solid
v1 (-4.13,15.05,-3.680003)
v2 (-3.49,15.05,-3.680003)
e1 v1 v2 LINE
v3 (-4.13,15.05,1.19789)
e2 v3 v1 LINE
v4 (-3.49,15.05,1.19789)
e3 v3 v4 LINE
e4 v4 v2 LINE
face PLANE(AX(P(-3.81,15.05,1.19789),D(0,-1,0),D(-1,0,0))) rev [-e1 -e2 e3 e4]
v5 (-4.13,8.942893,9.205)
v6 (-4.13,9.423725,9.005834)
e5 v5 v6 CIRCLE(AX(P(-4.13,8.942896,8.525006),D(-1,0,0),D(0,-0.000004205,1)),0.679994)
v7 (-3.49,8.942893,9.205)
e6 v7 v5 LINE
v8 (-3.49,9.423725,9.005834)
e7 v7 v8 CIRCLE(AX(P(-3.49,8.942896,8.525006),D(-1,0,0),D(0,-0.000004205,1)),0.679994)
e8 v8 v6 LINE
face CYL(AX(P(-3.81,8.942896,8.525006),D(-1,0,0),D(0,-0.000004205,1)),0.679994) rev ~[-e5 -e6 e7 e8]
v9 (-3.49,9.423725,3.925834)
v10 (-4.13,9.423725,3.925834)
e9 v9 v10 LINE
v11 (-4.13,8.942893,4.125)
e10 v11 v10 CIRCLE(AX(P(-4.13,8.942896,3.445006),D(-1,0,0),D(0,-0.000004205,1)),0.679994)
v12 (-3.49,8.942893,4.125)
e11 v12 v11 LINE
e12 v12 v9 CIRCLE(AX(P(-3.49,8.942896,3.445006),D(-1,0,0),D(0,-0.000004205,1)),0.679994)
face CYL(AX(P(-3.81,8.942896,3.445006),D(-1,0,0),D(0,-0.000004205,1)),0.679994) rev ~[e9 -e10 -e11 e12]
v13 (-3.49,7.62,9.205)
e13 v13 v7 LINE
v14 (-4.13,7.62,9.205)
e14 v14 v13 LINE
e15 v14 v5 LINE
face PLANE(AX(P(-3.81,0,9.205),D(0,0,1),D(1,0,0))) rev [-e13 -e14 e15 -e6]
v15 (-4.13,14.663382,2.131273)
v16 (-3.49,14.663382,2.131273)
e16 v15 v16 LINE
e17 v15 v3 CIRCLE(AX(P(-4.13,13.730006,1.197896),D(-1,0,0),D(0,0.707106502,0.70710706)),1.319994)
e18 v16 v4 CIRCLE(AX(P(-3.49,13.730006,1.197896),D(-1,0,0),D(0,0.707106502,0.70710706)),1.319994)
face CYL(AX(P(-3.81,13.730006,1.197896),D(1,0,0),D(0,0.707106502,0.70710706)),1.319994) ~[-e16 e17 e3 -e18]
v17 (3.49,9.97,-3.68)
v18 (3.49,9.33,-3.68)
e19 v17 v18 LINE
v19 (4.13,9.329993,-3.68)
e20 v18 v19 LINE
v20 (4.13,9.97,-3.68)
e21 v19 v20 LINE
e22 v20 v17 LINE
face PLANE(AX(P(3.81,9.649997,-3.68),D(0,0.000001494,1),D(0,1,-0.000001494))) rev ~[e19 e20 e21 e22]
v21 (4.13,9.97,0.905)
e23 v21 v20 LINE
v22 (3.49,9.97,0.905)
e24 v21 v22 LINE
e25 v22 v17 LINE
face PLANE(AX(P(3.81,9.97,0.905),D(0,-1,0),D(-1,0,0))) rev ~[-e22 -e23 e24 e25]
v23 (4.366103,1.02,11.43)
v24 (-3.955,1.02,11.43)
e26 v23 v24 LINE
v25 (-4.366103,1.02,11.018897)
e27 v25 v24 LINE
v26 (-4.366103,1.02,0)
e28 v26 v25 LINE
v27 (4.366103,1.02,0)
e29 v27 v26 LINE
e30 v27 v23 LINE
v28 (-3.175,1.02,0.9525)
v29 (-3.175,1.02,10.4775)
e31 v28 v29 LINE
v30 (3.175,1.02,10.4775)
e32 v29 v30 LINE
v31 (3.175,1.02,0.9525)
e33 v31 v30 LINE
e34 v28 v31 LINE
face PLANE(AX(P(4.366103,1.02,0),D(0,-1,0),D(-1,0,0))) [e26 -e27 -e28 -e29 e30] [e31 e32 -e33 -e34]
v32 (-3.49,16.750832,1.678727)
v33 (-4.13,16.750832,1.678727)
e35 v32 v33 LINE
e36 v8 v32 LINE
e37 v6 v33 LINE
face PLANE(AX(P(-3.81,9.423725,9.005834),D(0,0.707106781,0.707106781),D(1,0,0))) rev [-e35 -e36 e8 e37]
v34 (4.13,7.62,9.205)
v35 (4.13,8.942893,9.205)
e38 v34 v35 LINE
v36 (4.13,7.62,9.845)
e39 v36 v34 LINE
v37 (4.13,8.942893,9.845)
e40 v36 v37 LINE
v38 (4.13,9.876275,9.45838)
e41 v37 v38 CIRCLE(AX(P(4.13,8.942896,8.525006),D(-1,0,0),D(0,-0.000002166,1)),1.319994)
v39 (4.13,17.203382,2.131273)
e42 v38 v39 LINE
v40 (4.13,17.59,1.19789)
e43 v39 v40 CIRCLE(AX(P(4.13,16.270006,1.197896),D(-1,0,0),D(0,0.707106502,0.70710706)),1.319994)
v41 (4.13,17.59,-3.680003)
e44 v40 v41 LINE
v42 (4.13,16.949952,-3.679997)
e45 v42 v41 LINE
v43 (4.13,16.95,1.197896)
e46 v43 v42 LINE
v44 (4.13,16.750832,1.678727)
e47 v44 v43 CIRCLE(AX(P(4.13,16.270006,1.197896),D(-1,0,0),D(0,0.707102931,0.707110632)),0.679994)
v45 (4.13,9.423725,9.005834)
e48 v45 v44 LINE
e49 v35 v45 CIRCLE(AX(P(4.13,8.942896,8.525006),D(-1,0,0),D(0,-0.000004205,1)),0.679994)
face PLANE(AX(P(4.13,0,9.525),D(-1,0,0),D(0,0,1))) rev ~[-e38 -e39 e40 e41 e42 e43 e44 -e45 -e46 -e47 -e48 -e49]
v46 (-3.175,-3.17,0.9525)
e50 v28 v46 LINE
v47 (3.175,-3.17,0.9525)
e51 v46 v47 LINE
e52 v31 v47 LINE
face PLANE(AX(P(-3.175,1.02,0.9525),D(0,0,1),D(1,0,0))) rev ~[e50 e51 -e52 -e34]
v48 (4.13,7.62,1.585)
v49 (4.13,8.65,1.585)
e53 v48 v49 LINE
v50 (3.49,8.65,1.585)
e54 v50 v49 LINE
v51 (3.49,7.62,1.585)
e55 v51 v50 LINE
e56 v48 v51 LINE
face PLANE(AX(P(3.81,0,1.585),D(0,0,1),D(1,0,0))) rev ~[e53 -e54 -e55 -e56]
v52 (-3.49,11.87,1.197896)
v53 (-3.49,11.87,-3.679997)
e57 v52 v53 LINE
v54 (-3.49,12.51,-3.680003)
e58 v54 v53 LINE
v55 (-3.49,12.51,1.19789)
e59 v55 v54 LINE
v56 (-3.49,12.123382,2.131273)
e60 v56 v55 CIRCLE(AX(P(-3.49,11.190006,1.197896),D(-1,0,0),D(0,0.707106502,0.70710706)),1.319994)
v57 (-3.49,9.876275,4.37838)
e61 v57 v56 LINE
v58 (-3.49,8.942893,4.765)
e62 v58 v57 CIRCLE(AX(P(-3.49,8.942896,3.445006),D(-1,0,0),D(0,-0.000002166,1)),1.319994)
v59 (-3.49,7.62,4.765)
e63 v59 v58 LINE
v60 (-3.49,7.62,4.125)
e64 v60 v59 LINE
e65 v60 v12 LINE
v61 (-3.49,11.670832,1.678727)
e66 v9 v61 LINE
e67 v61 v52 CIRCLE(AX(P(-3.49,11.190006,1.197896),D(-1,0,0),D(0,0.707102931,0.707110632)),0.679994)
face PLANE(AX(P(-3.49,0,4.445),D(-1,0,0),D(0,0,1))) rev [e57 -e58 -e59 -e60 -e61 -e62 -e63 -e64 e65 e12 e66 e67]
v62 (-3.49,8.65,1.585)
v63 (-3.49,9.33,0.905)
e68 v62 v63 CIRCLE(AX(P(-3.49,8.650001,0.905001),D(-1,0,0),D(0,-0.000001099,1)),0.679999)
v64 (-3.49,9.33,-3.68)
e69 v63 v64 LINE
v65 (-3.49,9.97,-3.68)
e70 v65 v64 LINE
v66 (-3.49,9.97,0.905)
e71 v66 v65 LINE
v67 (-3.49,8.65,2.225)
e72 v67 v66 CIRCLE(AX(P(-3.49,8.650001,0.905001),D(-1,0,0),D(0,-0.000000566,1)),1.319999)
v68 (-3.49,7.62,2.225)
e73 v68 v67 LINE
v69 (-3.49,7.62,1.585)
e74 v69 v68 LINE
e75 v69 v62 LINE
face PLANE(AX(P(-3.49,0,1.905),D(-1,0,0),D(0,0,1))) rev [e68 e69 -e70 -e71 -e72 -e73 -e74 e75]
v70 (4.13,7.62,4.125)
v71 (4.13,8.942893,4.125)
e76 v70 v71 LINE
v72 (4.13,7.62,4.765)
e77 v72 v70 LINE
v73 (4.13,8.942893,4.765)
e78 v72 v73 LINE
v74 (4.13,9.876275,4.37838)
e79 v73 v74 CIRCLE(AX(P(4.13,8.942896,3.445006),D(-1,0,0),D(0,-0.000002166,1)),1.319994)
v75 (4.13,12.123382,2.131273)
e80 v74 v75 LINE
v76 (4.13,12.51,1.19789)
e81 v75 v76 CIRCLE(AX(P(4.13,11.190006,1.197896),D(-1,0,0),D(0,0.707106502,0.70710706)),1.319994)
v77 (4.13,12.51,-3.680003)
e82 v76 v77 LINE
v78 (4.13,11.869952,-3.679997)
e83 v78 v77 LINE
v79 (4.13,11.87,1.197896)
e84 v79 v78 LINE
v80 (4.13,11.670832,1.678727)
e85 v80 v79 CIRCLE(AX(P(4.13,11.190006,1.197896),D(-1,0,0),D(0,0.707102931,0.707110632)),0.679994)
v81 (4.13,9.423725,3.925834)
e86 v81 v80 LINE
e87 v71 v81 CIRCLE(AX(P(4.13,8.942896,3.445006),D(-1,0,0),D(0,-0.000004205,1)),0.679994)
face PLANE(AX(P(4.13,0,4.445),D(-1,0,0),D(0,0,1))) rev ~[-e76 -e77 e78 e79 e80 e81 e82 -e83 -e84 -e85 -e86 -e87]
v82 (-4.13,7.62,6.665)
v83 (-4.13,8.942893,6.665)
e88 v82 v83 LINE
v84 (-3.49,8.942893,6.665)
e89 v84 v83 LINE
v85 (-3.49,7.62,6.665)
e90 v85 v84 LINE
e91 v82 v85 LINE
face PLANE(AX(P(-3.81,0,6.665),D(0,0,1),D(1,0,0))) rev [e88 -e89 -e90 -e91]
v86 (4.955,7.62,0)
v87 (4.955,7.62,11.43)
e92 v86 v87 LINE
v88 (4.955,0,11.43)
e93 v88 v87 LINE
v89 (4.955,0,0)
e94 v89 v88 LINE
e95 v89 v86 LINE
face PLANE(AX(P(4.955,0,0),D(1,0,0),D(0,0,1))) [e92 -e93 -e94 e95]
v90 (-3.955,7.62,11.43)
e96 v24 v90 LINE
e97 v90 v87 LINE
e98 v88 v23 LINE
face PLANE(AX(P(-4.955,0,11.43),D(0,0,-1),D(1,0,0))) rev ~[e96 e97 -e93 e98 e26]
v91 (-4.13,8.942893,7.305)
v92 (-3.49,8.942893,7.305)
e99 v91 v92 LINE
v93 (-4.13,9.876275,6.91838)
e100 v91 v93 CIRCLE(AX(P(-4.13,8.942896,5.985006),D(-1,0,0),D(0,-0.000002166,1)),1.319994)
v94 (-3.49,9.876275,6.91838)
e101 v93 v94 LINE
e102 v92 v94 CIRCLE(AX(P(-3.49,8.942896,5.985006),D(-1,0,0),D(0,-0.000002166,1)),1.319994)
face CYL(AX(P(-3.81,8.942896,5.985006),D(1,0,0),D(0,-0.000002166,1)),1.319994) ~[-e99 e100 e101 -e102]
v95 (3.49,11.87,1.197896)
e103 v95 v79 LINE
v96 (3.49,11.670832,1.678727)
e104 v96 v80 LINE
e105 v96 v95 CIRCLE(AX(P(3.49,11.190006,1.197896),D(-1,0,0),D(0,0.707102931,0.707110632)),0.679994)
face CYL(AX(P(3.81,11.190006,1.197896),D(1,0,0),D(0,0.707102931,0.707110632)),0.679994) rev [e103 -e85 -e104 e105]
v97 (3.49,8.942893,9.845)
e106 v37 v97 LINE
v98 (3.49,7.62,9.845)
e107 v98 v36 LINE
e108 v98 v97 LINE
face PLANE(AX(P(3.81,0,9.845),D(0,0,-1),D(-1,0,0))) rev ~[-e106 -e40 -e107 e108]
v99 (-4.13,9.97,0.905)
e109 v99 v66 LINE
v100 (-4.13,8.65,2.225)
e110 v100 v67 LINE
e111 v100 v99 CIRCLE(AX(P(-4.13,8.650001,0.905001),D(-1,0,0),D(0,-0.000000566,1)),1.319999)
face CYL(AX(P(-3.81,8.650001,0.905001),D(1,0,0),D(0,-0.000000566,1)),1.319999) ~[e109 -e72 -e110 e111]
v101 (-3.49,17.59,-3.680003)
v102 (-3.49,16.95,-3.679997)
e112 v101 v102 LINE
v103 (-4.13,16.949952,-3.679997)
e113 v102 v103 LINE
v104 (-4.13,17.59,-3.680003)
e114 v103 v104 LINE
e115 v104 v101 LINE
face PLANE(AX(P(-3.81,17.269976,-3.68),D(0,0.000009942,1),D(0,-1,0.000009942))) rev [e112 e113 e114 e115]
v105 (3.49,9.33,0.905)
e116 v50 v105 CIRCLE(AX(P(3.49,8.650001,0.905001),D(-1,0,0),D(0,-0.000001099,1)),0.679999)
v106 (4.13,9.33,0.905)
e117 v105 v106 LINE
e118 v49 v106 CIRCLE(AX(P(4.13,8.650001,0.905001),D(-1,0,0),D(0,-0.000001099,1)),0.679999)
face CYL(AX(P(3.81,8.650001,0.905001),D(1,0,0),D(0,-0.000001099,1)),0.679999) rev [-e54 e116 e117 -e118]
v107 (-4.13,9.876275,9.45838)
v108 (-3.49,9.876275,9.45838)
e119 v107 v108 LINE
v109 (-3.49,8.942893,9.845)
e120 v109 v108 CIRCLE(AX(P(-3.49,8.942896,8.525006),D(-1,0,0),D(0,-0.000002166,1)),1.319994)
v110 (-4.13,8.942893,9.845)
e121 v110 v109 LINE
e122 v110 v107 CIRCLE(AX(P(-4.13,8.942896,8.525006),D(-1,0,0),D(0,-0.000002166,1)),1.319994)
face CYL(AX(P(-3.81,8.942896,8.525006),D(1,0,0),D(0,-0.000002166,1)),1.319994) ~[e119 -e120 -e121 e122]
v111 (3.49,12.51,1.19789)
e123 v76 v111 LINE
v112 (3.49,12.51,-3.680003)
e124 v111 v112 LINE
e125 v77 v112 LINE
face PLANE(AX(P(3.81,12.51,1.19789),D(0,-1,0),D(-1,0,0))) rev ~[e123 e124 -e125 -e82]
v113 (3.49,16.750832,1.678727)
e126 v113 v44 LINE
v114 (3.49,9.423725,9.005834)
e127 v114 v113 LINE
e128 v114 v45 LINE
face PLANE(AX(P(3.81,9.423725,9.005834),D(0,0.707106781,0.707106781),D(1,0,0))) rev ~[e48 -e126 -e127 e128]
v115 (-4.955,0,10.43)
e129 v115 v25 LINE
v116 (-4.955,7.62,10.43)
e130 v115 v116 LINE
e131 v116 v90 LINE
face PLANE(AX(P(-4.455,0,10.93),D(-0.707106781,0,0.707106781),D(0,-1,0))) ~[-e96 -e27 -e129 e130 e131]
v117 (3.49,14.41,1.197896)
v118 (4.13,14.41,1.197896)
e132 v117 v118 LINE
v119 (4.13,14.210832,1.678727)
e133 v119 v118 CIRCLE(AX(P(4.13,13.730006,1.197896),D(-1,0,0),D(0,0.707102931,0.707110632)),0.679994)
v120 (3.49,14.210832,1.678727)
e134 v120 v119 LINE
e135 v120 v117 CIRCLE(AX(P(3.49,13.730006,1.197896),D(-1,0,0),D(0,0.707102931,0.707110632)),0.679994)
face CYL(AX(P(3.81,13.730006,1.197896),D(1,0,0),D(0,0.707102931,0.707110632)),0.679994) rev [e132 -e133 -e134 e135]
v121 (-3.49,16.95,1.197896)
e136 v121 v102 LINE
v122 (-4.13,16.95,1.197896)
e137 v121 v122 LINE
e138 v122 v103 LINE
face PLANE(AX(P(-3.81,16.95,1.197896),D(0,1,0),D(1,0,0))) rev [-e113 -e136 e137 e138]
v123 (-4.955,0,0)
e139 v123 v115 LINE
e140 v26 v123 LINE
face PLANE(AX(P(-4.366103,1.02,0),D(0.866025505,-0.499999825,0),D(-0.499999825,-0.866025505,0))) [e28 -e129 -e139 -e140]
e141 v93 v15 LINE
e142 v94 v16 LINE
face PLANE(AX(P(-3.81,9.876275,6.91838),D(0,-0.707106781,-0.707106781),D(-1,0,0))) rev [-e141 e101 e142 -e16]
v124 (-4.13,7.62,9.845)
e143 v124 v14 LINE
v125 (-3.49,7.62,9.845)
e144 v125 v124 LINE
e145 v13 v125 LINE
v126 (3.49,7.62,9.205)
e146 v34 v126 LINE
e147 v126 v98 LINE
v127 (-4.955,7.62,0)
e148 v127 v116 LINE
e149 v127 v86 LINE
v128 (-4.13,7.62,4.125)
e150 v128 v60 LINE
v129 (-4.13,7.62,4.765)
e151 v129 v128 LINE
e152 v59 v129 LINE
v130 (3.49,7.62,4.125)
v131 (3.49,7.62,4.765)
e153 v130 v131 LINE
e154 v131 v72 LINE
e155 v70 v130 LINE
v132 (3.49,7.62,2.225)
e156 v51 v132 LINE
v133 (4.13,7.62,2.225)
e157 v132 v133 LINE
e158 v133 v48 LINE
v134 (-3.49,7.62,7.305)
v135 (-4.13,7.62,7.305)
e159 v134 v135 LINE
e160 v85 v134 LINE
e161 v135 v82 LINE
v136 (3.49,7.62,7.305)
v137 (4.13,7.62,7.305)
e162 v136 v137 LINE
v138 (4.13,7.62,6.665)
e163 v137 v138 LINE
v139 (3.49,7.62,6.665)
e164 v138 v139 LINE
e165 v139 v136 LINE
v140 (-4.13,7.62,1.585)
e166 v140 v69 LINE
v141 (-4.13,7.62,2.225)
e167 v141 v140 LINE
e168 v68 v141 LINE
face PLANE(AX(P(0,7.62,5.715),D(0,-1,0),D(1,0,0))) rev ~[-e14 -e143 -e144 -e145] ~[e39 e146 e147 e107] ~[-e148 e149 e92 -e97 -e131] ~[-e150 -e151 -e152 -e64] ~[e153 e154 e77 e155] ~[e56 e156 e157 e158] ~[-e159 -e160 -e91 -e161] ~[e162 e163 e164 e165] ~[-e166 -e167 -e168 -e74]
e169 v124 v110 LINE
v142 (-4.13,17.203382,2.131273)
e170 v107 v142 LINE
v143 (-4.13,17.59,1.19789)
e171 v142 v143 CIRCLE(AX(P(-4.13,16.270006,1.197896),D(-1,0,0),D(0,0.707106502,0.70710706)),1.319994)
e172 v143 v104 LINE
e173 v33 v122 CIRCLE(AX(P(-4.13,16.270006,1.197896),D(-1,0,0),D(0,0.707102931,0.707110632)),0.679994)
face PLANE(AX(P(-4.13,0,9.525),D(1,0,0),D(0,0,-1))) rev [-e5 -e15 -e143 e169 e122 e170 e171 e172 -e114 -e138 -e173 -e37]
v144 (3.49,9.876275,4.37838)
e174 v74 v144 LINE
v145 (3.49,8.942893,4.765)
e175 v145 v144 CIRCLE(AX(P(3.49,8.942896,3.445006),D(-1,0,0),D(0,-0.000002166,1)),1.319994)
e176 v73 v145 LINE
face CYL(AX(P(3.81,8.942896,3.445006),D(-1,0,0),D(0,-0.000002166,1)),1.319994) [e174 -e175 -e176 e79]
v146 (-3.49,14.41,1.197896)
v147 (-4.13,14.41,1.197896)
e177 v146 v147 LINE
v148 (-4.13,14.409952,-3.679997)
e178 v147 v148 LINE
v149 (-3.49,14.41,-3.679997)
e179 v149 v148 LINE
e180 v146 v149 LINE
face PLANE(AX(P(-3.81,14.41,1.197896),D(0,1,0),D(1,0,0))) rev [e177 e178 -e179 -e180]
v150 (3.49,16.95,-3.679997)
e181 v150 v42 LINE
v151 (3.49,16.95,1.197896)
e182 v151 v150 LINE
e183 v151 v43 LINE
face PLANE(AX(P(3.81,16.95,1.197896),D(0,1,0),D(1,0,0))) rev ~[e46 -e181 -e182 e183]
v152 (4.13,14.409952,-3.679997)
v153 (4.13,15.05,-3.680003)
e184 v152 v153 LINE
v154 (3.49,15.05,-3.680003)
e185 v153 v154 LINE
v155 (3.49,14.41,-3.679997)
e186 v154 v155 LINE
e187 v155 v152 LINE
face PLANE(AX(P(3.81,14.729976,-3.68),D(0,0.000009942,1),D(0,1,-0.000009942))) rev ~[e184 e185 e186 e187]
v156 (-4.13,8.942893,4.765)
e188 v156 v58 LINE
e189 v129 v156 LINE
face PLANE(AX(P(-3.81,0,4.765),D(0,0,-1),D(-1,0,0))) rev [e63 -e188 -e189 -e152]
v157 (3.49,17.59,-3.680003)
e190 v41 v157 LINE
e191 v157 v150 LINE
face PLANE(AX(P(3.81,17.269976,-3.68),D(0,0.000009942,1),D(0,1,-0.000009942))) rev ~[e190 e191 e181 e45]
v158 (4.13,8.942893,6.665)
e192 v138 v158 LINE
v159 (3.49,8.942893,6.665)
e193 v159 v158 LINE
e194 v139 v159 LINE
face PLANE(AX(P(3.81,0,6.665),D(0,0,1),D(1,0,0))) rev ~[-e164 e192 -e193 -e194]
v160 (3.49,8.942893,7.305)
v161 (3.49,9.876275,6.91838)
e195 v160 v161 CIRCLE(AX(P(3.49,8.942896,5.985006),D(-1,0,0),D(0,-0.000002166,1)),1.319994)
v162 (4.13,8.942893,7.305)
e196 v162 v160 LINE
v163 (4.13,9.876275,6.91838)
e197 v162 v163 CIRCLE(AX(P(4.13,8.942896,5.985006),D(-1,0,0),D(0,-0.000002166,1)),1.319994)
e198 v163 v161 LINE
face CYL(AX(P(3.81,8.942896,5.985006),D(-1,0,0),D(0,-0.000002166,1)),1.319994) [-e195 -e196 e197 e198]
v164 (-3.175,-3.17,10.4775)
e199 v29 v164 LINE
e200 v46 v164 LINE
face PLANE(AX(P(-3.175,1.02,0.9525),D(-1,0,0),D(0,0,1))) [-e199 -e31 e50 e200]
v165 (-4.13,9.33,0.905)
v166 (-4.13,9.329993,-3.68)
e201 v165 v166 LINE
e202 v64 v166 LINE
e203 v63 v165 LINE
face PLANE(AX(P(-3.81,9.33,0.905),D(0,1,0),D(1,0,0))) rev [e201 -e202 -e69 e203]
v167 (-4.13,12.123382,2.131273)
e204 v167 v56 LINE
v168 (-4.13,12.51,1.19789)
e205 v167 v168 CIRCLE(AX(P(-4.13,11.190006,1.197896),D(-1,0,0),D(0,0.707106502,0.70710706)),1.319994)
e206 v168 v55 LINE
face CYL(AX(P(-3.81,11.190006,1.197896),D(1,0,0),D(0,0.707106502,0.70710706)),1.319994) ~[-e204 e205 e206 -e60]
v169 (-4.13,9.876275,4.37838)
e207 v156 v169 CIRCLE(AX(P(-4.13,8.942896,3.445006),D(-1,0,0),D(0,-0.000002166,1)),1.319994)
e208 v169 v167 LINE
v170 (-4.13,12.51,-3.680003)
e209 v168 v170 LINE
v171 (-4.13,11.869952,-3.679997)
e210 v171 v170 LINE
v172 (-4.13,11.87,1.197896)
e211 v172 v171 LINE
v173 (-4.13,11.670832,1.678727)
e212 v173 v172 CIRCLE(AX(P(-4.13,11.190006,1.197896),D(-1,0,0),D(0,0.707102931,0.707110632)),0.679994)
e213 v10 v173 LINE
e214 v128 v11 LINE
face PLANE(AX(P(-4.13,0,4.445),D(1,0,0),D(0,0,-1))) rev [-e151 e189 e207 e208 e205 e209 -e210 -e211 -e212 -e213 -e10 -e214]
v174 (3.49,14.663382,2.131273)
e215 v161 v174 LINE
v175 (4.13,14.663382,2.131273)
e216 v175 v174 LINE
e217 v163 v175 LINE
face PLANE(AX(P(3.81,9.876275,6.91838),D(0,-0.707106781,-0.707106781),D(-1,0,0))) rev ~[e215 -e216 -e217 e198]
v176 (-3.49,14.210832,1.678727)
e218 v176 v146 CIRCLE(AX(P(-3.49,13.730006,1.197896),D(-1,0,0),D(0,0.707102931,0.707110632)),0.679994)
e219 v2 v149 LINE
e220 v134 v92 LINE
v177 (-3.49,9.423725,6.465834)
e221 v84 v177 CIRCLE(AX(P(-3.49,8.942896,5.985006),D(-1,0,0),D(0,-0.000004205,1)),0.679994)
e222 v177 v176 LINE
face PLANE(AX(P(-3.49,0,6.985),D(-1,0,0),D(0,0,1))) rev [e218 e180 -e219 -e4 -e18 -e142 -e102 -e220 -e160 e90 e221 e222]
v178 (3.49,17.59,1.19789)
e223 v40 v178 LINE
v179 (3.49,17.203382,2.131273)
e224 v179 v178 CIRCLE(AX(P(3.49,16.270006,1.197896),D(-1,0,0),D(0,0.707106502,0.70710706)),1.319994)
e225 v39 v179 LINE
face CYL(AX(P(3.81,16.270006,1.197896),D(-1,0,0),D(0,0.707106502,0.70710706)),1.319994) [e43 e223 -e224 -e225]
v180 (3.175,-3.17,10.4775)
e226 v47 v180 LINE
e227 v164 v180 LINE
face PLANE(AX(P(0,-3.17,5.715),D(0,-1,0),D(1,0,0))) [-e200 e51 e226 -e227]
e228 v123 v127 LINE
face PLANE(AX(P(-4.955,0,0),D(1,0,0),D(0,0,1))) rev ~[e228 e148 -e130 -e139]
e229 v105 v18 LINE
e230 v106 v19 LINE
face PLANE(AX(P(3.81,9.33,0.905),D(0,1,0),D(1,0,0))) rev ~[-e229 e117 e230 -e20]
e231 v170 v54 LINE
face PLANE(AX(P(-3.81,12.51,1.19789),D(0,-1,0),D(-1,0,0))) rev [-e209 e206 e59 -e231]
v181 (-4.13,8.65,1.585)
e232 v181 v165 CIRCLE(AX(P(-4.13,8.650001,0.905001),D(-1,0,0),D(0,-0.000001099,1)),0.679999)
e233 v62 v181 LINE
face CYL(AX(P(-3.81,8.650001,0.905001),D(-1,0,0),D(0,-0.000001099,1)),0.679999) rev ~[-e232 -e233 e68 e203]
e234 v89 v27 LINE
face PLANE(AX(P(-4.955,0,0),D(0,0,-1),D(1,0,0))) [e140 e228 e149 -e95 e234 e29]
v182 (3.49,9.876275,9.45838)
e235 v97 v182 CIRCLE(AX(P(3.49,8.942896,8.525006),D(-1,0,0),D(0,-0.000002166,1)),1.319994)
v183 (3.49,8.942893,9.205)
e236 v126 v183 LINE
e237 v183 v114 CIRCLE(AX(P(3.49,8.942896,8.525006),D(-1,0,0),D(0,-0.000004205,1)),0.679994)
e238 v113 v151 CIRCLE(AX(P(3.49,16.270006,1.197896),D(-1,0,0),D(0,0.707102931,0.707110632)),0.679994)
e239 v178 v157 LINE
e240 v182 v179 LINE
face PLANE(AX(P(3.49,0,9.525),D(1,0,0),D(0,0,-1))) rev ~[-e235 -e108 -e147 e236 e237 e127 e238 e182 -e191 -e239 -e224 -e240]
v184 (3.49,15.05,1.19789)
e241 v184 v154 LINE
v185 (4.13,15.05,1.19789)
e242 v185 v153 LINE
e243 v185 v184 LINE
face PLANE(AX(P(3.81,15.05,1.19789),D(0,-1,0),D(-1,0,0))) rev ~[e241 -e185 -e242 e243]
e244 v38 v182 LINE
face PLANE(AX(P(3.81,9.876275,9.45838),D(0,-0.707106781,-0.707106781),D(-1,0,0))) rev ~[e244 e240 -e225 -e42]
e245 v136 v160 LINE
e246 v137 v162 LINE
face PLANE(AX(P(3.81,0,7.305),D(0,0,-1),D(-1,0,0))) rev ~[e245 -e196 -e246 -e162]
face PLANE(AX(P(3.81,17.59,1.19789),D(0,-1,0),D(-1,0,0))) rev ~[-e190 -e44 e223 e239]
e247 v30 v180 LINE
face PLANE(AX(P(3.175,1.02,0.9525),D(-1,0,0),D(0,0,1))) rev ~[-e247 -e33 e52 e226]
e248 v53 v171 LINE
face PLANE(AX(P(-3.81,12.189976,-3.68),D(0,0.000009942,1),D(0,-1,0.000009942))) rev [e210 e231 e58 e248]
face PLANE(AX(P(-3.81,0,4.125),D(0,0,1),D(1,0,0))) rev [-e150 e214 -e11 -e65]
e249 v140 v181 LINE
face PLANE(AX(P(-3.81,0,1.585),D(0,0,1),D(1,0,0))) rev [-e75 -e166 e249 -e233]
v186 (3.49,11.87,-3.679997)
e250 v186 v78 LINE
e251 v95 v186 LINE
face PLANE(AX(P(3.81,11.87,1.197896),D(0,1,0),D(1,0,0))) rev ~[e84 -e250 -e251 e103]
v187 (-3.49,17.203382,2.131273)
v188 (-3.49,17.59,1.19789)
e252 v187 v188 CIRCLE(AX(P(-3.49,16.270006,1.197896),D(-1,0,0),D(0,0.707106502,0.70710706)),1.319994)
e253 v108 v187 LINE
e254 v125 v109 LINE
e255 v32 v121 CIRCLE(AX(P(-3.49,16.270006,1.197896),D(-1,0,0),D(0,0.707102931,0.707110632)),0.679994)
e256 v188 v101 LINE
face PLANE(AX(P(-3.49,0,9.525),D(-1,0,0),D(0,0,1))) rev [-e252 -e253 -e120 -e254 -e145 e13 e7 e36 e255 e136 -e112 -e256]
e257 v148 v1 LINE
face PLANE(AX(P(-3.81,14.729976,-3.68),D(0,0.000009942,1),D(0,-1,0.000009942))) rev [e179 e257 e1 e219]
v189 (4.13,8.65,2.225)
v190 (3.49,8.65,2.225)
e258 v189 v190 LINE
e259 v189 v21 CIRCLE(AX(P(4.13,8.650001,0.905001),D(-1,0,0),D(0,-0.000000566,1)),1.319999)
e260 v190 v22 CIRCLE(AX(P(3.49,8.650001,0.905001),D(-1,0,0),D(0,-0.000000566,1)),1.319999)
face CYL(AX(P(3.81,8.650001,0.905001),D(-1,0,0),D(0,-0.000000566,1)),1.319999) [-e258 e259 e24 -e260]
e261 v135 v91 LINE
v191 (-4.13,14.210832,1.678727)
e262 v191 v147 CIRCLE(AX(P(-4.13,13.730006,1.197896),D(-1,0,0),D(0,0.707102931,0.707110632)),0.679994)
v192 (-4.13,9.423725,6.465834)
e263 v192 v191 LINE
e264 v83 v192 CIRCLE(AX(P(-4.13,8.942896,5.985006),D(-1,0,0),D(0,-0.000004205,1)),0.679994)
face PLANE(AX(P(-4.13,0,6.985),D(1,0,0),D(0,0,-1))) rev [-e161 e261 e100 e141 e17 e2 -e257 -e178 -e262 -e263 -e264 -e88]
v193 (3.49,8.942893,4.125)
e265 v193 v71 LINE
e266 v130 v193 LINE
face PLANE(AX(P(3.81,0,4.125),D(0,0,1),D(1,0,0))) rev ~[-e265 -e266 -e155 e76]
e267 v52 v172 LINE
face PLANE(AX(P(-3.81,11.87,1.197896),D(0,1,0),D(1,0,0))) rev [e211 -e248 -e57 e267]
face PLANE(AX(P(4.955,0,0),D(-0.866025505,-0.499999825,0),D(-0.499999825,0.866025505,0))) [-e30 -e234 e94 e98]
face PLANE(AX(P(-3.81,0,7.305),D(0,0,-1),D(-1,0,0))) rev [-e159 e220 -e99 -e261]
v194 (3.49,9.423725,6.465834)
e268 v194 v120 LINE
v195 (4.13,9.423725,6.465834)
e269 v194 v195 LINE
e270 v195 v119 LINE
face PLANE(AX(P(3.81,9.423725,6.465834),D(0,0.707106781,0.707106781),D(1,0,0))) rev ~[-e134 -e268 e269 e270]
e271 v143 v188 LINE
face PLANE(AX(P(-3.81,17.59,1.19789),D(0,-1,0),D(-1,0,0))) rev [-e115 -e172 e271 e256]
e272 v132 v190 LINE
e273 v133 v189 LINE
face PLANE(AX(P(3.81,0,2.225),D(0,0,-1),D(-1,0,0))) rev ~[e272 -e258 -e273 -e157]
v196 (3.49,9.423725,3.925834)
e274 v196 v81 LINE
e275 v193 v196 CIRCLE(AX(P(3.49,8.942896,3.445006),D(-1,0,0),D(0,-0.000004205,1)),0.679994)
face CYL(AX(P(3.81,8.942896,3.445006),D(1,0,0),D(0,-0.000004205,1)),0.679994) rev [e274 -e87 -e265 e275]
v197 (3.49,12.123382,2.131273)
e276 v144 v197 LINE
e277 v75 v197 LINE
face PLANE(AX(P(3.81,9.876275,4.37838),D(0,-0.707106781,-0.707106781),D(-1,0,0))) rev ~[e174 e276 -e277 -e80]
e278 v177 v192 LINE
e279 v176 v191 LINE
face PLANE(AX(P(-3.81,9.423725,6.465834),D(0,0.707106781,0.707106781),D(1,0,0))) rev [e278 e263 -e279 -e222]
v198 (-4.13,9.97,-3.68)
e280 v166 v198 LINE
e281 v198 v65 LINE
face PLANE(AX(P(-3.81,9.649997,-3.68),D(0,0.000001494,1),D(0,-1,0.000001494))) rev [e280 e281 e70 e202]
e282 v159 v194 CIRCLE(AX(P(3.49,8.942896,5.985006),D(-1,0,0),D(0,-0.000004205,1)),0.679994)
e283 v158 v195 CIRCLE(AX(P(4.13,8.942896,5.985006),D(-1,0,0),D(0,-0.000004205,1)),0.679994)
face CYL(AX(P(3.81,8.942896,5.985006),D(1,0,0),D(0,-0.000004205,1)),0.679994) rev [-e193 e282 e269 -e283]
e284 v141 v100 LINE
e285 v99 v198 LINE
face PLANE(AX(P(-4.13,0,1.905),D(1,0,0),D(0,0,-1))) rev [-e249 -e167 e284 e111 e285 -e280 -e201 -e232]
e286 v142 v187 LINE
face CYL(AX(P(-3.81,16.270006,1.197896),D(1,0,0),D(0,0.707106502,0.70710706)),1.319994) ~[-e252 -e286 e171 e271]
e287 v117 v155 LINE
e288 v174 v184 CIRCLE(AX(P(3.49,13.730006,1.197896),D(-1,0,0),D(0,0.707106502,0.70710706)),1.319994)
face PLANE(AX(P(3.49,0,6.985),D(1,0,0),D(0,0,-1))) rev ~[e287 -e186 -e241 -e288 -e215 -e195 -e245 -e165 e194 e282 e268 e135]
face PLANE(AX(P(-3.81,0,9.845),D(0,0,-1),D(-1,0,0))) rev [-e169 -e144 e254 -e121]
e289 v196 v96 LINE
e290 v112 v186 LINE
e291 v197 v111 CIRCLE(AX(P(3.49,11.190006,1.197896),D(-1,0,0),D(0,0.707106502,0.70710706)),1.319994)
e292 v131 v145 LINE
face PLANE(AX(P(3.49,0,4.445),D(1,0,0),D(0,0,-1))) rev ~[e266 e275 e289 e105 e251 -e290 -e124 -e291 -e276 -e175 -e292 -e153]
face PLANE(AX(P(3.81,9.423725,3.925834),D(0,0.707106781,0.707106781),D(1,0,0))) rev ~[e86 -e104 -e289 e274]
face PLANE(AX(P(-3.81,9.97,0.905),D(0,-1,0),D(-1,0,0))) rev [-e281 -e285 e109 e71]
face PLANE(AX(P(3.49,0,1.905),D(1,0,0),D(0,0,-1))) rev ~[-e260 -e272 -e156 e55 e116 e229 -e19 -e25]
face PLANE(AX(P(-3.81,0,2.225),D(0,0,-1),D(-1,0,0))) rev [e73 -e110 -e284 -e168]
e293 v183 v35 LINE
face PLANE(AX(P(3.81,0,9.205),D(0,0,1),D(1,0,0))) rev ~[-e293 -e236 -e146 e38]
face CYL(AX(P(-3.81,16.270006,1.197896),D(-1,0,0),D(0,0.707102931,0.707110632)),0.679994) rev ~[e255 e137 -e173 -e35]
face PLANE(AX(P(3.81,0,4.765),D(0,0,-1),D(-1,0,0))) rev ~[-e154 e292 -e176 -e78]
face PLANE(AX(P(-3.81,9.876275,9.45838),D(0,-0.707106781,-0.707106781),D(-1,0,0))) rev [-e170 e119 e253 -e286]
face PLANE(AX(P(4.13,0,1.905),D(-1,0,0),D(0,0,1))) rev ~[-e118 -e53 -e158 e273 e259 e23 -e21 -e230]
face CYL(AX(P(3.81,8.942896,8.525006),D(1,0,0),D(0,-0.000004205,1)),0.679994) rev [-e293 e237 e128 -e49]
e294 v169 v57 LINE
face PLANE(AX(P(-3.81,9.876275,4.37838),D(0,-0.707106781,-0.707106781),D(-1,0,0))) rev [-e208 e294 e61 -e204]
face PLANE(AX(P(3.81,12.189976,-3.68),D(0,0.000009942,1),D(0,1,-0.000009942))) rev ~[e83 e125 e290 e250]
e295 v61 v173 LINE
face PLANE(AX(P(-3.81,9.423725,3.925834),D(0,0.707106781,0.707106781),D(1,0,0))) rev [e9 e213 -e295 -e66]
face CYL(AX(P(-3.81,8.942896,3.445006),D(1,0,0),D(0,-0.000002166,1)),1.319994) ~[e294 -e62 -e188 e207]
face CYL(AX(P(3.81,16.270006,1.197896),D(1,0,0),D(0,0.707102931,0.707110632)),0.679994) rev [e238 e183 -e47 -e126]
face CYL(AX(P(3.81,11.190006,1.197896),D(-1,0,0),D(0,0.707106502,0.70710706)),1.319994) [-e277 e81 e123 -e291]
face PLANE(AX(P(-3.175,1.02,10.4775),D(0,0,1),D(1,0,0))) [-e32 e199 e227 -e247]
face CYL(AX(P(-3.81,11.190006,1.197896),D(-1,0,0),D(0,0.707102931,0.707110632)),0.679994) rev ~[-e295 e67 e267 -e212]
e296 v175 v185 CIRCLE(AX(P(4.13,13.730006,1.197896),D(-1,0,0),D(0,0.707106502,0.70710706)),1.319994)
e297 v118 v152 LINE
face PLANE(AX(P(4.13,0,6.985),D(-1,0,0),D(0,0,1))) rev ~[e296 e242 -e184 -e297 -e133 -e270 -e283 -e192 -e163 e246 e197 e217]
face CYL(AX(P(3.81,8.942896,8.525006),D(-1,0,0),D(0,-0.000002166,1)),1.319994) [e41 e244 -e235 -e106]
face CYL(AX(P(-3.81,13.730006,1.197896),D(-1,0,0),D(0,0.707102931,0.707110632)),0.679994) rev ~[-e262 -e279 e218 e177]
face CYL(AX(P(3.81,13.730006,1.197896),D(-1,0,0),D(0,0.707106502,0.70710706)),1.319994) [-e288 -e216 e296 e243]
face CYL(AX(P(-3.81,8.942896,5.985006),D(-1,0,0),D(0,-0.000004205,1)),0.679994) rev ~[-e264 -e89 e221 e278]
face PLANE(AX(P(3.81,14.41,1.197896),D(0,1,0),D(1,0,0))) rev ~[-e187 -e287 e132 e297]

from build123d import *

# Parameters (mm, degrees)
SKETCH_W     = 9.91
SKETCH_H     = 11.43
PAD_DEPTH    = 7.62
SKETCH002_W  = 0.64
SKETCH002_H  = 0.64
SKETCH004_W  = 0.64
SKETCH004_H  = 0.64
SKETCH006_W  = 0.64
SKETCH006_H  = 0.64
SKETCH008_W  = 0.64
SKETCH008_H  = 0.64
POCKET_DEPTH = 11.431
SKETCH010_W  = 6.35
SKETCH010_H  = 9.525
PAD001_DEPTH = 4.19
CHAMFER_SIZE = 1


with BuildPart() as part:
    # Sketch → Pad (new body)
    with BuildSketch(Plane.XZ):
        with Locations((0, 5.715)):
            Rectangle(SKETCH_W, SKETCH_H)
    extrude(amount=-PAD_DEPTH)

    # AdditivePipe: sweep along a path in Sketch001
    with BuildLine(Plane.YZ) as additivepipe_path:
        Line((0, 9.525), (8.942893, 9.525))
        ThreePointArc((8.942893, 9.525), (9.325577, 9.44888), (9.65, 9.232107))
        Line((9.65, 9.232107), (16.977107, 1.905))
        ThreePointArc((16.977107, 1.905), (17.19388, 1.580577), (17.27, 1.197893))
        Line((17.27, 1.197893), (17.27, -3.68))
    # Sketch002 → AdditivePipe (sweep)
    with BuildSketch(Plane.XZ):
        with Locations((3.81, 9.525)):
            Rectangle(SKETCH002_W, SKETCH002_H)
    additivepipe = sweep(path=additivepipe_path.line)

    # AdditivePipe001: sweep along a path in Sketch003
    with BuildLine(Plane.YZ) as additivepipe001_path:
        Line((0, 6.985), (8.942893, 6.985))
        ThreePointArc((8.942893, 6.985), (9.325577, 6.90888), (9.65, 6.692107))
        Line((9.65, 6.692107), (14.437107, 1.905))
        ThreePointArc((14.437107, 1.905), (14.65388, 1.580577), (14.73, 1.197893))
        Line((14.73, 1.197893), (14.73, -3.68))
    # Sketch004 → AdditivePipe001 (sweep)
    with BuildSketch(Plane.XZ):
        with Locations((3.81, 6.985)):
            Rectangle(SKETCH004_W, SKETCH004_H)
    additivepipe001 = sweep(path=additivepipe001_path.line)

    # AdditivePipe002: sweep along a path in Sketch005
    with BuildLine(Plane.YZ) as additivepipe002_path:
        Line((0, 4.445), (8.942893, 4.445))
        ThreePointArc((8.942893, 4.445), (9.325577, 4.36888), (9.65, 4.152107))
        Line((9.65, 4.152107), (11.897107, 1.905))
        ThreePointArc((11.897107, 1.905), (12.11388, 1.580577), (12.19, 1.197893))
        Line((12.19, 1.197893), (12.19, -3.68))
    # Sketch006 → AdditivePipe002 (sweep)
    with BuildSketch(Plane.XZ):
        with Locations((3.81, 4.445)):
            Rectangle(SKETCH006_W, SKETCH006_H)
    additivepipe002 = sweep(path=additivepipe002_path.line)

    # AdditivePipe003: sweep along a path in Sketch007
    with BuildLine(Plane.YZ) as additivepipe003_path:
        Line((0, 1.905), (8.65, 1.905))
        ThreePointArc((8.65, 1.905), (9.357107, 1.612107), (9.65, 0.905))
        Line((9.65, 0.905), (9.65, -3.68))
    # Sketch008 → AdditivePipe003 (sweep)
    with BuildSketch(Plane.XZ):
        with Locations((3.81, 1.905)):
            Rectangle(SKETCH008_W, SKETCH008_H)
    additivepipe003 = sweep(path=additivepipe003_path.line)

    # Mirrored: AdditivePipe, AdditivePipe001, AdditivePipe002, AdditivePipe003 across Sketch002 V_Axis
    add(additivepipe.mirror(Plane(origin=(0, 0, 0), x_dir=(0, -1, 0), z_dir=(1, 0, 0))))
    add(additivepipe001.mirror(Plane(origin=(0, 0, 0), x_dir=(0, -1, 0), z_dir=(1, 0, 0))))
    add(additivepipe002.mirror(Plane(origin=(0, 0, 0), x_dir=(0, -1, 0), z_dir=(1, 0, 0))))
    add(additivepipe003.mirror(Plane(origin=(0, 0, 0), x_dir=(0, -1, 0), z_dir=(1, 0, 0))))

    # Sketch009 (on Face3 of AdditivePipe002) → Pocket (cut, through all)
    with BuildSketch(Plane(origin=(0, 0, 0), x_dir=(1, 0, 0), z_dir=(0, 0, -1))):
        Polygon((-4.955, 0), (4.955, 0), (4.366103, -1.02), (-4.366103, -1.02), align=None)
    extrude(amount=-POCKET_DEPTH, mode=Mode.SUBTRACT)

    # Sketch010 (on Face7 of Pocket) → Pad001 (join)
    with BuildSketch(Plane.XZ.offset(-1.02)):
        with Locations((0, 5.715)):
            Rectangle(SKETCH010_W, SKETCH010_H)
    extrude(amount=PAD001_DEPTH)

    # Chamfer
    chamfer_edges = [part.edges().sort_by_distance(p)[0] for p in [
        (-4.955, 3.81, 11.43),
    ]]
    chamfer(chamfer_edges, length=CHAMFER_SIZE)


solid = part.part
